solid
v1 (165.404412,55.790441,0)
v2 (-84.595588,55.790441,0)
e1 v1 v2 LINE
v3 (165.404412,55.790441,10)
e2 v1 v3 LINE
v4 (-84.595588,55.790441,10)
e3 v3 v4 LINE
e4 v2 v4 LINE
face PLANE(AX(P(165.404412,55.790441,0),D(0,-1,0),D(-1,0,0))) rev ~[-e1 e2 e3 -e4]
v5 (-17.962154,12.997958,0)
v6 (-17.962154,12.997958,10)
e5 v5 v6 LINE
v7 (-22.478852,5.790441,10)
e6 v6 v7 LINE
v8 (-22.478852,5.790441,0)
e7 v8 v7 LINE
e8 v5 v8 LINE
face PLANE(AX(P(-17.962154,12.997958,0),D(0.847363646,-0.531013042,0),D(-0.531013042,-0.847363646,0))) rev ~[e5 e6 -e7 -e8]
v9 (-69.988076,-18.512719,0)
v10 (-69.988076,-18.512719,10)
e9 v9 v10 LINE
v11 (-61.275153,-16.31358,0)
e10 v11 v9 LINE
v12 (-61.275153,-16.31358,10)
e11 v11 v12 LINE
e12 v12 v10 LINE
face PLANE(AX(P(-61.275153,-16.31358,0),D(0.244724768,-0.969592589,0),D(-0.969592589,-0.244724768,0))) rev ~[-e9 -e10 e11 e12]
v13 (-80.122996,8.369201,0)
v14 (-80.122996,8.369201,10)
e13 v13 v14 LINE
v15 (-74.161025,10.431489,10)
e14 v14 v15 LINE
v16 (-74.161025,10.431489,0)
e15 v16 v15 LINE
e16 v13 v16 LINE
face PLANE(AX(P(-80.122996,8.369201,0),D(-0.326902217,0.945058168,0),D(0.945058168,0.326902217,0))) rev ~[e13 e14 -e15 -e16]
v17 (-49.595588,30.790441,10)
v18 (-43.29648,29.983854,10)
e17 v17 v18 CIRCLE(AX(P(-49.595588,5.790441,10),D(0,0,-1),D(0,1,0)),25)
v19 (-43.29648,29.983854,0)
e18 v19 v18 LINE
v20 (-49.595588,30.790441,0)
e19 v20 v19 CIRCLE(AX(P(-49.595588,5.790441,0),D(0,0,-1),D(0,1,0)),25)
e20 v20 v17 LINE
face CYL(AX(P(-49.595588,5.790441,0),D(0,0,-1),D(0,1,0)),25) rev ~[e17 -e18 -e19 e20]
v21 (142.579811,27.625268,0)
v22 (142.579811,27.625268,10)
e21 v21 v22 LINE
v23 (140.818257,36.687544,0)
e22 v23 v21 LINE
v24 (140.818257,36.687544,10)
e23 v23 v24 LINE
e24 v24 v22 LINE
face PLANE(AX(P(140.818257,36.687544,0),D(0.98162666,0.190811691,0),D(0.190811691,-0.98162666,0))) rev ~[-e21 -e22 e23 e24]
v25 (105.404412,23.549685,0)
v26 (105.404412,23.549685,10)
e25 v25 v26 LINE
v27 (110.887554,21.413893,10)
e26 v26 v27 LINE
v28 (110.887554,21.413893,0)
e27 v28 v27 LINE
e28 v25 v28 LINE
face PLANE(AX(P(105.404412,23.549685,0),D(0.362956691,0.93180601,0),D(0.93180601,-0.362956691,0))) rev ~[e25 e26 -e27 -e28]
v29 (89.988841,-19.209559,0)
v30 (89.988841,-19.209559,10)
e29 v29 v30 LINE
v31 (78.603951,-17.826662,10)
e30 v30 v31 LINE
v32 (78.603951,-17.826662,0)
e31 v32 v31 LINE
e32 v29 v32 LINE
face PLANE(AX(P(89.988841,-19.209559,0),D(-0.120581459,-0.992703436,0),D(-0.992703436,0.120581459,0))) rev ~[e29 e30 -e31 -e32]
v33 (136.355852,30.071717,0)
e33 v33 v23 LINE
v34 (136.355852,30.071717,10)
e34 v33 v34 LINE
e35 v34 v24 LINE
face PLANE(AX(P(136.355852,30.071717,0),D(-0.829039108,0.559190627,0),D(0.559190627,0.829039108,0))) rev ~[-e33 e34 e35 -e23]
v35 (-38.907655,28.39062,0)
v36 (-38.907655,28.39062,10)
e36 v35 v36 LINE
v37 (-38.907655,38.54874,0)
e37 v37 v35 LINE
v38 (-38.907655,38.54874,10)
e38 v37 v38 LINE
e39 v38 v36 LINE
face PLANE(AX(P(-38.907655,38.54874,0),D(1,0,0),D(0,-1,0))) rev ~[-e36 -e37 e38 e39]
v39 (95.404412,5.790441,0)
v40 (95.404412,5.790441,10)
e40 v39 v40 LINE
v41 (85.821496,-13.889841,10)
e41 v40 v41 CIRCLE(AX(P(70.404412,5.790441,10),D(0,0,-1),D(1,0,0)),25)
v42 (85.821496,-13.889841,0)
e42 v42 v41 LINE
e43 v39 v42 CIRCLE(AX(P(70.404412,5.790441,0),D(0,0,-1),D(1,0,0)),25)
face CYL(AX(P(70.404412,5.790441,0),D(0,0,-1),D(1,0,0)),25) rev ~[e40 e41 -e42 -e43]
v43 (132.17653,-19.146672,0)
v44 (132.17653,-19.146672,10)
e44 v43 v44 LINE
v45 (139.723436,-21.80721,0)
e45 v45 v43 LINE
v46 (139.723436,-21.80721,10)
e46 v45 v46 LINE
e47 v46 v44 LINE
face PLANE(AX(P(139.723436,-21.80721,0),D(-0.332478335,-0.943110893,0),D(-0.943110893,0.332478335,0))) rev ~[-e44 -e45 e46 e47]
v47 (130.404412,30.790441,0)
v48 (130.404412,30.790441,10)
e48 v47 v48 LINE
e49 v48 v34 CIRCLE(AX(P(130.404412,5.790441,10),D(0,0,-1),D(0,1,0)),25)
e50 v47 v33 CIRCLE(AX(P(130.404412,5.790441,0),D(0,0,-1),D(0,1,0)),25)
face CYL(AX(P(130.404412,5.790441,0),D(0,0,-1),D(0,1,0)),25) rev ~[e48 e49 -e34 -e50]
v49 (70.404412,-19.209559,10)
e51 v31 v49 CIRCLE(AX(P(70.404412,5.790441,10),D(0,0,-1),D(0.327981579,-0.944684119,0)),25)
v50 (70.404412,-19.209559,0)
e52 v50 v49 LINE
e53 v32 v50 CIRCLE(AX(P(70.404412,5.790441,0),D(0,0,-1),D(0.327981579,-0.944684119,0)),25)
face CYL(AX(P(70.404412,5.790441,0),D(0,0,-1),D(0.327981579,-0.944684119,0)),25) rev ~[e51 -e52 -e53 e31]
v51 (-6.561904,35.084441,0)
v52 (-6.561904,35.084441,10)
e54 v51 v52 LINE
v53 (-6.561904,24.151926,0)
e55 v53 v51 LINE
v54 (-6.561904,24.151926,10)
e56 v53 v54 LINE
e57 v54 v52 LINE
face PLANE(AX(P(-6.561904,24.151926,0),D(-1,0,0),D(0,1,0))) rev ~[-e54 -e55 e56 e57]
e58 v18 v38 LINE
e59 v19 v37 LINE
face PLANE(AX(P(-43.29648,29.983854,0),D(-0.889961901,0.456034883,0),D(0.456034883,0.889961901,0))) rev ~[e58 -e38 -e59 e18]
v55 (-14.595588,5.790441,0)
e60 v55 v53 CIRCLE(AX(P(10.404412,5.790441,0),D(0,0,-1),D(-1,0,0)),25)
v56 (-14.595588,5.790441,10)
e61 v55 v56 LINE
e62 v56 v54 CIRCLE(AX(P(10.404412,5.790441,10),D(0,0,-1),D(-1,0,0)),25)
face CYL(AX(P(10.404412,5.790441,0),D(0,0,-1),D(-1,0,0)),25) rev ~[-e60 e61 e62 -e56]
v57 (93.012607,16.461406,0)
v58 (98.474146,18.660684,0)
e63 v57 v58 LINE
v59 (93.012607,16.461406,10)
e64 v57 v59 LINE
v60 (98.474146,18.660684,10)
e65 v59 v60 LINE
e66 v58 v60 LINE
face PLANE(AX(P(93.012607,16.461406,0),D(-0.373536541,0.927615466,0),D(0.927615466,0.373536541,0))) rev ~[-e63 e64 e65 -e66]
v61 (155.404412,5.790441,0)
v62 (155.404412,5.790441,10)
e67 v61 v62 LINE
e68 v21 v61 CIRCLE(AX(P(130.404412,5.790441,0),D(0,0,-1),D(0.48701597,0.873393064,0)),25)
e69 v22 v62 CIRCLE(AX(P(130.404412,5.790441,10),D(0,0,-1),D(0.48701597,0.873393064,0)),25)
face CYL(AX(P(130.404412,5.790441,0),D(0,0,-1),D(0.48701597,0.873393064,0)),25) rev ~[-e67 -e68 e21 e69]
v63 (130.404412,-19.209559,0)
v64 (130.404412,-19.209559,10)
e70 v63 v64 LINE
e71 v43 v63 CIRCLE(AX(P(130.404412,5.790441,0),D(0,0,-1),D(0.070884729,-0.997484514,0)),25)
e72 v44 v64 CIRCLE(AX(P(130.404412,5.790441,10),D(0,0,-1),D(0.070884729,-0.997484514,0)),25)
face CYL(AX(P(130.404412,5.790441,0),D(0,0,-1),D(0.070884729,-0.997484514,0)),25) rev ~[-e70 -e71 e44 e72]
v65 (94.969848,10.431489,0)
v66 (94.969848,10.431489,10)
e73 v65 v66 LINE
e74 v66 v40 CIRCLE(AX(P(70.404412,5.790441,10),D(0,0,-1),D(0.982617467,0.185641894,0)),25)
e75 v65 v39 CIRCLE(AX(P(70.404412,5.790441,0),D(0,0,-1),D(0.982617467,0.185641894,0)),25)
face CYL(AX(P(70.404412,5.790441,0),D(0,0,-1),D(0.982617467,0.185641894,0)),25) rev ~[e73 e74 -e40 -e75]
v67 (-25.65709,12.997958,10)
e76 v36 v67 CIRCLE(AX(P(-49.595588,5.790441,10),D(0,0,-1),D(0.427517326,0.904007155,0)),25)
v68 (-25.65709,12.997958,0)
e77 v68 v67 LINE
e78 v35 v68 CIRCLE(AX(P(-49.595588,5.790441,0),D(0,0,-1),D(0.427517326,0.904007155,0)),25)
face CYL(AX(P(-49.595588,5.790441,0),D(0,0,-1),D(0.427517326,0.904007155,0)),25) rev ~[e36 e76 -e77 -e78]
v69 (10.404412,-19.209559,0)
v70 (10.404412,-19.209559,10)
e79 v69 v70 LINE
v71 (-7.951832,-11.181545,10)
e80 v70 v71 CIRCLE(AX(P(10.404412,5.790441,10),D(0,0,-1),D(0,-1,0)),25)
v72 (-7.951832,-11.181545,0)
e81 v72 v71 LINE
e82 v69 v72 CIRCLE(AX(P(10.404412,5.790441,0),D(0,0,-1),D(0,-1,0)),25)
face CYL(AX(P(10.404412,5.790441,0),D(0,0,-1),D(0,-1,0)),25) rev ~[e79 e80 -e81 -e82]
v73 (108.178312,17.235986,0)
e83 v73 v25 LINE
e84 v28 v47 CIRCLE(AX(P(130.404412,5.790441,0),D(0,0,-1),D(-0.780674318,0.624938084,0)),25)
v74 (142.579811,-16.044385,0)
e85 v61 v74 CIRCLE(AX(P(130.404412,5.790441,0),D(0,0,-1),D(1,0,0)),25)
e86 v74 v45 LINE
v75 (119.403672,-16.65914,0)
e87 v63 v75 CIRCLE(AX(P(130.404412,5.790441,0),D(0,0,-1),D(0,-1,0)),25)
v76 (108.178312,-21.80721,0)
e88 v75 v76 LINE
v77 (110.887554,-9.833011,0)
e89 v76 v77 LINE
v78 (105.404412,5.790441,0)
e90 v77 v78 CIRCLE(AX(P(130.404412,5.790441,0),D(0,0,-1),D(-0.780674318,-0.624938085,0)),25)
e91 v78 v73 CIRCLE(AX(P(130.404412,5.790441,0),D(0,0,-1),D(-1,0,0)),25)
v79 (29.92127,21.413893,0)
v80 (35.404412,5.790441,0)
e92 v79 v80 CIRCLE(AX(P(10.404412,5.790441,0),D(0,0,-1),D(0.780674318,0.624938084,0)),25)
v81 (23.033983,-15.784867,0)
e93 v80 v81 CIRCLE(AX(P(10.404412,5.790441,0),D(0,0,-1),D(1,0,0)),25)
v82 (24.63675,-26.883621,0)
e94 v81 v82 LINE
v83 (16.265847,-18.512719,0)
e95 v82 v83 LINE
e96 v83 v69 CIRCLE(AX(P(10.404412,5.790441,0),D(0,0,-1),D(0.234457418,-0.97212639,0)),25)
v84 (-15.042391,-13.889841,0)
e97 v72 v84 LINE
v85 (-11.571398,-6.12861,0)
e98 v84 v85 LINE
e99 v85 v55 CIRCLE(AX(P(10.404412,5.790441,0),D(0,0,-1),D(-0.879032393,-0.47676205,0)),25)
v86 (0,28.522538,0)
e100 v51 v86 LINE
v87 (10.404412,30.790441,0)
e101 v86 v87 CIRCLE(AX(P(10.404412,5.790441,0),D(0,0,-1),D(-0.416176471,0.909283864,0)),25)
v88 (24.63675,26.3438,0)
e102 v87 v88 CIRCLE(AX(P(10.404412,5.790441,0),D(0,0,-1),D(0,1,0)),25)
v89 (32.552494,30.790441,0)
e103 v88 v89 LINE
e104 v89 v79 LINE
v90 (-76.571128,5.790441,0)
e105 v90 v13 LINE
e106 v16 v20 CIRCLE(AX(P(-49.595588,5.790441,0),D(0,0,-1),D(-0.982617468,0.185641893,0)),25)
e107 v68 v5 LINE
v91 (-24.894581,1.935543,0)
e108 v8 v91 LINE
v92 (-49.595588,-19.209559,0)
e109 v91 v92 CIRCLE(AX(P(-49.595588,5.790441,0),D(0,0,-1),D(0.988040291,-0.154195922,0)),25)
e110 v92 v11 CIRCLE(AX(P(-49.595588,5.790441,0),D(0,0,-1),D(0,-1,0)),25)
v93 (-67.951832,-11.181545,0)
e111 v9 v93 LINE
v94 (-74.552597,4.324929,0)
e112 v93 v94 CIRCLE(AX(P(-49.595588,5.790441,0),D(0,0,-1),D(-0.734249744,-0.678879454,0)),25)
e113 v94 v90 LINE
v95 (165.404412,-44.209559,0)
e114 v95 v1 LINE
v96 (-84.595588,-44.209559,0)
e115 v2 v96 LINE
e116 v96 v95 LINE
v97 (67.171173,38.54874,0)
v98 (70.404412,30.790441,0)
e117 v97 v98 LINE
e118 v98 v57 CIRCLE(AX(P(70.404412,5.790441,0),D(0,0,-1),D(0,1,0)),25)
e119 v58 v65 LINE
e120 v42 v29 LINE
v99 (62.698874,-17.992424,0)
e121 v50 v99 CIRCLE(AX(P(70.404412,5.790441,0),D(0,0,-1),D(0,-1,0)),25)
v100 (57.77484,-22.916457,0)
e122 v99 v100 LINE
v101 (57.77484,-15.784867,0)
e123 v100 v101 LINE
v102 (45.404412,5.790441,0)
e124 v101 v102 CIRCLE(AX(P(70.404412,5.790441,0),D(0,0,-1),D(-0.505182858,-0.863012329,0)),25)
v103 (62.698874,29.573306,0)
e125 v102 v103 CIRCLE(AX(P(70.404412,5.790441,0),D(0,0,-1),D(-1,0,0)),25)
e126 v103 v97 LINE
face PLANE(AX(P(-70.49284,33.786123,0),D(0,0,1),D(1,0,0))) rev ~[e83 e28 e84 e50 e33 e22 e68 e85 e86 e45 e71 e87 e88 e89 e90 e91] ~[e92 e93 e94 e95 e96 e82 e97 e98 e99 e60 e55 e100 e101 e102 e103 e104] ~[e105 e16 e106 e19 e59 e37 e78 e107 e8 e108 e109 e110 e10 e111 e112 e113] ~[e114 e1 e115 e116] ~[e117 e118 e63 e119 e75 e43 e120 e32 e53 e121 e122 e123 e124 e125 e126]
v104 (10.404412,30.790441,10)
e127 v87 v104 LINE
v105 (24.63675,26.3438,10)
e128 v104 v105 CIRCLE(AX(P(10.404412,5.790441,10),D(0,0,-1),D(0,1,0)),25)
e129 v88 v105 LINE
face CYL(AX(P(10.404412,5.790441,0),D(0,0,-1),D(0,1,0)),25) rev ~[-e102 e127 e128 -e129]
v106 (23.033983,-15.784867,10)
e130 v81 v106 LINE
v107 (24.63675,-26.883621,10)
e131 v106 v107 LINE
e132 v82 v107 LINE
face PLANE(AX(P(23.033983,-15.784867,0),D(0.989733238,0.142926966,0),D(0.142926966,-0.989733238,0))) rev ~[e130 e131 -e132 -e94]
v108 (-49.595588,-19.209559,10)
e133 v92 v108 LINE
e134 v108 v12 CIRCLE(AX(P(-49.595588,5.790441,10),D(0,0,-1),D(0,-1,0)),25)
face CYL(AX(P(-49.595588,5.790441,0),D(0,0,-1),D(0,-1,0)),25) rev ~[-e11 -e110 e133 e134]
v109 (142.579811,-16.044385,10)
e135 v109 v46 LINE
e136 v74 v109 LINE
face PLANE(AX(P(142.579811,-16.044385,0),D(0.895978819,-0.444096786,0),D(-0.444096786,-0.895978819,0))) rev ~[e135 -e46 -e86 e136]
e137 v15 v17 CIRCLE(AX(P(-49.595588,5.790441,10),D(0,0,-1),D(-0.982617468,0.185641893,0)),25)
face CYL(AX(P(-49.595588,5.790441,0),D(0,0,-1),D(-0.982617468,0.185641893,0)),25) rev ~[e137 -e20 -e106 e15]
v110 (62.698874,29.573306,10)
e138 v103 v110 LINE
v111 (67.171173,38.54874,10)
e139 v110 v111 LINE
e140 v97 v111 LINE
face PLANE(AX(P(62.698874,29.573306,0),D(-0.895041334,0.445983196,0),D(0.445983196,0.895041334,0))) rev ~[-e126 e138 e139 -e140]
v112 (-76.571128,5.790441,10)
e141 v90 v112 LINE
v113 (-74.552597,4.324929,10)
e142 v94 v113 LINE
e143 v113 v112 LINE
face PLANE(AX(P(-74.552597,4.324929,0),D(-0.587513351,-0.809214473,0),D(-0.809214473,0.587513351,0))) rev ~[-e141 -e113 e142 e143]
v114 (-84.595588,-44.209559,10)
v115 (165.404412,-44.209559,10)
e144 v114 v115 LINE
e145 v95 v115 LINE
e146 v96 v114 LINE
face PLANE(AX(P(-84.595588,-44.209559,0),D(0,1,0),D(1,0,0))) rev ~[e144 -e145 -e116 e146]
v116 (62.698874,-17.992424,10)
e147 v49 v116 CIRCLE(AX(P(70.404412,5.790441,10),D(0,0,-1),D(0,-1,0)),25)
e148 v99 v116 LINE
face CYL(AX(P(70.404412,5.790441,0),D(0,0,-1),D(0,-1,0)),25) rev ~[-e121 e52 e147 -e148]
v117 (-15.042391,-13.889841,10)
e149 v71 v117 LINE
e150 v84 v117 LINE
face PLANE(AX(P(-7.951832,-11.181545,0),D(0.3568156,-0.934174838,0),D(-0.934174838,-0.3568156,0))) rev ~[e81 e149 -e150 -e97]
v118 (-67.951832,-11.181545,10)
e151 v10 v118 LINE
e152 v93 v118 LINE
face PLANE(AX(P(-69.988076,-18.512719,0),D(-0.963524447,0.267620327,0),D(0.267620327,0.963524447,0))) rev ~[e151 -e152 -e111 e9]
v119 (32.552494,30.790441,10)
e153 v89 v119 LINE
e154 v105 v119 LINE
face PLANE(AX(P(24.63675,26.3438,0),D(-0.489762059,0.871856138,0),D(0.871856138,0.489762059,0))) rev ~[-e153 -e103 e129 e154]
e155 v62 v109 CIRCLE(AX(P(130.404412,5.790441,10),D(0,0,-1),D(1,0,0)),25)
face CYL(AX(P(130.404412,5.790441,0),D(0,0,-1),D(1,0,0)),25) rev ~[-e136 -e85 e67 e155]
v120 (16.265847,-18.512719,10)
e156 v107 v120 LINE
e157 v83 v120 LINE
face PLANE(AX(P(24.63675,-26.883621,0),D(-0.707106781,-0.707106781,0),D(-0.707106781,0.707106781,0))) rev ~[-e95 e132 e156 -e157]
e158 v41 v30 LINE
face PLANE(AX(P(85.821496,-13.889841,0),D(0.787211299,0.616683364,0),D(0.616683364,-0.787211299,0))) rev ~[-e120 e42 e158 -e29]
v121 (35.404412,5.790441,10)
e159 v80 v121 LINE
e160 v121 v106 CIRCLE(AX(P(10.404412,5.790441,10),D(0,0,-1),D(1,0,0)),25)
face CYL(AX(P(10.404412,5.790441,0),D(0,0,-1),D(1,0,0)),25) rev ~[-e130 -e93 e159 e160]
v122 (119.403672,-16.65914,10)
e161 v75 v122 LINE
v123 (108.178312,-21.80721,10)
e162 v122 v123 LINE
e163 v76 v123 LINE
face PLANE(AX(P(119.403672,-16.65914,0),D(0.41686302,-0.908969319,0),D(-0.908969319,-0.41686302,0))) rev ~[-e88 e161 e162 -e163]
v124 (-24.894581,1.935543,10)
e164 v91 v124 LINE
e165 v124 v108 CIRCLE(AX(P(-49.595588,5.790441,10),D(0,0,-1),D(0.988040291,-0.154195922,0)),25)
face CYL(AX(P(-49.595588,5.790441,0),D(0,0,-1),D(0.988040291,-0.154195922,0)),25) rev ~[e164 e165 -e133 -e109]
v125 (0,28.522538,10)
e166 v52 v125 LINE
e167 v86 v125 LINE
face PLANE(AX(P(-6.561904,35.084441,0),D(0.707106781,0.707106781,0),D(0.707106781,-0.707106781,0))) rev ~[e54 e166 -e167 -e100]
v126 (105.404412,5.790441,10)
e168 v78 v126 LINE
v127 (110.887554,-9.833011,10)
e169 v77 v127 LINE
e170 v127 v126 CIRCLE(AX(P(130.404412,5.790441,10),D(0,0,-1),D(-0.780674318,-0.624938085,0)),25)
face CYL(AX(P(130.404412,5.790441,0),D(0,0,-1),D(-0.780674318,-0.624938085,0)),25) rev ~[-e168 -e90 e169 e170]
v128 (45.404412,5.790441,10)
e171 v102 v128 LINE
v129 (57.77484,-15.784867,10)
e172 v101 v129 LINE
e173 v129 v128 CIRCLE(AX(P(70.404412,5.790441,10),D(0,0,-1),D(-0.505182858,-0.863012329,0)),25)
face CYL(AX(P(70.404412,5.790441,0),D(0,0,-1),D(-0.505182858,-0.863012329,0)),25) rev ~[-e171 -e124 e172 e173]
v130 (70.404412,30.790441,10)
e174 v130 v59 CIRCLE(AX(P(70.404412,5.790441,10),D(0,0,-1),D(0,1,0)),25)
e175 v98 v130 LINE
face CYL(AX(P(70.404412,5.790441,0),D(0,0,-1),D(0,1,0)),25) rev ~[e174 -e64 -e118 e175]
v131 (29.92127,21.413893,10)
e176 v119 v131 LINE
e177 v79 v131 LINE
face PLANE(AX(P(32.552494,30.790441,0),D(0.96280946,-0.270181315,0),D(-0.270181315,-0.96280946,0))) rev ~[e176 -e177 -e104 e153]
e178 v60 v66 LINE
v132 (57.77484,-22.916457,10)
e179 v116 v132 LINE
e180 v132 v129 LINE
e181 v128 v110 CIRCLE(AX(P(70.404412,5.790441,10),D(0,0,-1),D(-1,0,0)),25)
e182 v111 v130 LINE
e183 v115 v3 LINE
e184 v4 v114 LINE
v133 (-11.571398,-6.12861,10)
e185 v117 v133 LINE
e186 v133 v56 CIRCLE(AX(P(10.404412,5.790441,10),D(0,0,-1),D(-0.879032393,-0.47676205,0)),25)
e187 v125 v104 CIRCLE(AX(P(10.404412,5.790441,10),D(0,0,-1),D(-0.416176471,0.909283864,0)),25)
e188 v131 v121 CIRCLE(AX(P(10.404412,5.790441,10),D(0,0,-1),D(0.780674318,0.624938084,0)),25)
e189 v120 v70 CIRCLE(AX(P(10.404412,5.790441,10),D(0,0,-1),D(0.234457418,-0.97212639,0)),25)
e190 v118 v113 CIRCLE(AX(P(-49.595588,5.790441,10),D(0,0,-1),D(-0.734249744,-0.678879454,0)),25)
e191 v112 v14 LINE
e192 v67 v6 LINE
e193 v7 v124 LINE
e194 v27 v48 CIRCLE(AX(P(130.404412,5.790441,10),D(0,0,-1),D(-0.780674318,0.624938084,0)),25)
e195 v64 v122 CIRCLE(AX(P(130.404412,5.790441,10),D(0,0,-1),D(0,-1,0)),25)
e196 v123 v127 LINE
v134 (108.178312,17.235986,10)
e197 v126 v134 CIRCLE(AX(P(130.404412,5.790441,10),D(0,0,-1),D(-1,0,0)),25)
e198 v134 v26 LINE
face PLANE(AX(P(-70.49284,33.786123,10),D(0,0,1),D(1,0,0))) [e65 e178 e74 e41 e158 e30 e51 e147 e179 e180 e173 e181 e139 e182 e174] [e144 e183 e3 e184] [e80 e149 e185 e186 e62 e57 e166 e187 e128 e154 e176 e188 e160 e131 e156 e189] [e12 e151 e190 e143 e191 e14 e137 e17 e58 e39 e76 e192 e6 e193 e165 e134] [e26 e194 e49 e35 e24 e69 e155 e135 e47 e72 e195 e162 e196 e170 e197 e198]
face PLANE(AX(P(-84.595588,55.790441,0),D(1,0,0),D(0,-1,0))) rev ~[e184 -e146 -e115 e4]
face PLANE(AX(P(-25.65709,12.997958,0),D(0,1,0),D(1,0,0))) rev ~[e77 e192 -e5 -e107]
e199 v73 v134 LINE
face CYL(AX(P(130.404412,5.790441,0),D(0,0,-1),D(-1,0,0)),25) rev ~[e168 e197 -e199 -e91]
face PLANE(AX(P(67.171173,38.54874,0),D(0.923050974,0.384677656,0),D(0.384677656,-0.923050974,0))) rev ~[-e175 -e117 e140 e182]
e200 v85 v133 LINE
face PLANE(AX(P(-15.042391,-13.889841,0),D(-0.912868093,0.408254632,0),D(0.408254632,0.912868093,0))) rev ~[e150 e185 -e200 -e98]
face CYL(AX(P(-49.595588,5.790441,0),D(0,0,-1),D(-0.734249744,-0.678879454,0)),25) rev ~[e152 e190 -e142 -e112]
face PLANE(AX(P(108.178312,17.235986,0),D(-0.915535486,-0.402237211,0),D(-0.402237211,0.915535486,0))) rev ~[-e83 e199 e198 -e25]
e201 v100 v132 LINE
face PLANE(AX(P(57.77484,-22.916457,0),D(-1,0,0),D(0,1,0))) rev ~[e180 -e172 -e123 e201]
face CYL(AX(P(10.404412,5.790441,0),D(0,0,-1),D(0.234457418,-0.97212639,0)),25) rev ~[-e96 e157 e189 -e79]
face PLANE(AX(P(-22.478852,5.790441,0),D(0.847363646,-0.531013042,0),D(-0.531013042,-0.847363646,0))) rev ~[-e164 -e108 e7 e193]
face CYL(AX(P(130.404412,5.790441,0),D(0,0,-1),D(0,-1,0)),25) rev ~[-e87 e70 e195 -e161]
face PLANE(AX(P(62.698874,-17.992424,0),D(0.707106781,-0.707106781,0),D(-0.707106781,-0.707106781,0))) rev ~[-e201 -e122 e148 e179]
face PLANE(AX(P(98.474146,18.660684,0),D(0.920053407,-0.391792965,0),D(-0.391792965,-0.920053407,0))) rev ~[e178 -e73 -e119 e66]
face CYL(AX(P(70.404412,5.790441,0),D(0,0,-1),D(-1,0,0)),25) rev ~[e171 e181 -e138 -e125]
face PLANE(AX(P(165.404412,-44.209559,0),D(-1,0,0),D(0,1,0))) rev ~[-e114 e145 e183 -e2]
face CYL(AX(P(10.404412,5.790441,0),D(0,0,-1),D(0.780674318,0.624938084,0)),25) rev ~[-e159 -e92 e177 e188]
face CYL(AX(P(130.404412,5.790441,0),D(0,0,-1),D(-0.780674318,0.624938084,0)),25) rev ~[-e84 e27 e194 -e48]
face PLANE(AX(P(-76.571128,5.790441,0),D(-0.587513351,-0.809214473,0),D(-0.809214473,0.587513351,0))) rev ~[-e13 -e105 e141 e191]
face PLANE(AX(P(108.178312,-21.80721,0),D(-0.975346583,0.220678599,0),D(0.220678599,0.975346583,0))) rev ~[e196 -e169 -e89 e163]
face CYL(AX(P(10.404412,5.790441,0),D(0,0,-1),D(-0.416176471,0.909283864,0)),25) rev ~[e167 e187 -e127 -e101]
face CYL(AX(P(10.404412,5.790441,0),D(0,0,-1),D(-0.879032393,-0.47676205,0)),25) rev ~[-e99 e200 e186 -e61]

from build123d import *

# Parameters (mm, degrees)
BOSS_EXTRUDE2_DEPTH = 10


with BuildPart() as part:
    # Sketch1 → Boss-Extrude2 (new body)
    with BuildSketch(Plane.XY):
        with BuildLine():
            Line((-49.595588235, 30.790441176), (-49.595588235, 55.790441176))
            Line((-49.595588235, 55.790441176), (-84.595588235, 55.790441176))
            Line((-84.595588235, 55.790441176), (-84.595588235, 5.790441176))
            Line((-84.595588235, 5.790441176), (-76.571127836, 5.790441176))
            Line((-76.571127836, 5.790441176), (-80.122995865, 8.369201143))
            Line((-80.122995865, 8.369201143), (-74.161024923, 10.431488509))
            ThreePointArc((-74.161024923, 10.431488509), (-65.548234046, 25.0391578), (-49.595588235, 30.790441176))
        make_face()
        with BuildLine():
            Line((10.404411765, 55.790441176), (-49.595588235, 55.790441176))
            Line((-49.595588235, 55.790441176), (-49.595588235, 30.790441176))
            ThreePointArc((-49.595588235, 30.790441176), (-46.420318597, 30.587974576), (-43.296479842, 29.983854194))
            Line((-43.296479842, 29.983854194), (-38.907655076, 38.5487403))
            Line((-38.907655076, 38.5487403), (-38.907655076, 28.390620042))
            ThreePointArc((-38.907655076, 28.390620042), (-30.648795615, 22.100531594), (-25.657089919, 12.997957973))
            Line((-25.657089919, 12.997957973), (-17.962154019, 12.997957973))
            Line((-17.962154019, 12.997957973), (-22.478851702, 5.790441176))
            Line((-22.478851702, 5.790441176), (-14.595588235, 5.790441176))
            ThreePointArc((-14.595588235, 5.790441176), (-12.499276658, 15.811471895), (-6.561903703, 24.151926396))
            Line((-6.561903703, 24.151926396), (-6.561903703, 35.084441479))
            Line((-6.561903703, 35.084441479), (0, 28.522537776))
            ThreePointArc((0, 28.522537776), (5.080053353, 30.216886016), (10.404411765, 30.790441176))
            Line((10.404411765, 30.790441176), (10.404411765, 55.790441176))
        make_face()
        with BuildLine():
            Line((70.404411765, 55.790441176), (10.404411765, 55.790441176))
            Line((10.404411765, 55.790441176), (10.404411765, 30.790441176))
            ThreePointArc((10.404411765, 30.790441176), (17.859813508, 29.652900917), (24.63674968, 26.343799964))
            Line((24.63674968, 26.343799964), (32.552494412, 30.790441176))
            Line((32.552494412, 30.790441176), (29.92126971, 21.41389329))
            ThreePointArc((29.92126971, 21.41389329), (33.993831518, 14.069286246), (35.404411765, 5.790441176))
            Line((35.404411765, 5.790441176), (45.404411765, 5.790441176))
            ThreePointArc((45.404411765, 5.790441176), (50.185133178, 20.493528384), (62.698873639, 29.573306483))
            Line((62.698873639, 29.573306483), (67.171172857, 38.5487403))
            Line((67.171172857, 38.5487403), (70.404411765, 30.790441176))
            Line((70.404411765, 30.790441176), (70.404411765, 55.790441176))
        make_face()
        with BuildLine():
            Line((130.404411765, 55.790441176), (70.404411765, 55.790441176))
            Line((70.404411765, 55.790441176), (70.404411765, 30.790441176))
            ThreePointArc((70.404411765, 30.790441176), (83.787720088, 26.906479118), (93.012607471, 16.461405843))
            Line((93.012607471, 16.461405843), (98.474145882, 18.660683713))
            Line((98.474145882, 18.660683713), (94.969848452, 10.431488509))
            ThreePointArc((94.969848452, 10.431488509), (95.295533849, 8.1211152), (95.404411765, 5.790441176))
            Line((95.404411765, 5.790441176), (105.404411765, 5.790441176))
            ThreePointArc((105.404411765, 5.790441176), (106.107781477, 11.678883811), (108.178312298, 17.23598627))
            Line((108.178312298, 17.23598627), (105.404411765, 23.549684511))
            Line((105.404411765, 23.549684511), (110.88755382, 21.41389329))
            ThreePointArc((110.88755382, 21.41389329), (119.578200582, 28.324707338), (130.404411765, 30.790441176))
            Line((130.404411765, 30.790441176), (130.404411765, 55.790441176))
        make_face()
        with BuildLine():
            Line((165.404411765, 55.790441176), (130.404411765, 55.790441176))
            Line((130.404411765, 55.790441176), (130.404411765, 30.790441176))
            ThreePointArc((130.404411765, 30.790441176), (133.401752606, 30.610109746), (136.355852267, 30.071717007))
            Line((136.355852267, 30.071717007), (140.818257218, 36.687543597))
            Line((140.818257218, 36.687543597), (142.579811014, 27.625267787))
            ThreePointArc((142.579811014, 27.625267787), (151.961139035, 18.451701358), (155.404411765, 5.790441176))
            Line((155.404411765, 5.790441176), (165.404411765, 5.790441176))
            Line((165.404411765, 5.790441176), (165.404411765, 55.790441176))
        make_face()
        with BuildLine():
            Line((165.404411765, -44.209558824), (165.404411765, 5.790441176))
            Line((165.404411765, 5.790441176), (155.404411765, 5.790441176))
            ThreePointArc((155.404411765, 5.790441176), (151.961139035, -6.870819005), (142.579811014, -16.044385434))
            Line((142.579811014, -16.044385434), (139.723435627, -21.807209952))
            Line((139.723435627, -21.807209952), (132.176529952, -19.14667167))
            ThreePointArc((132.176529952, -19.14667167), (131.291028602, -19.193832089), (130.404411765, -19.209558824))
            Line((130.404411765, -19.209558824), (130.404411765, -44.209558824))
            Line((130.404411765, -44.209558824), (165.404411765, -44.209558824))
        make_face()
        with BuildLine():
            ThreePointArc((78.603951233, -17.826661789), (74.562080934, -18.861410419), (70.404411765, -19.209558824))
            Line((70.404411765, -19.209558824), (70.404411765, -44.209558824))
            Line((70.404411765, -44.209558824), (130.404411765, -44.209558824))
            Line((130.404411765, -44.209558824), (130.404411765, -19.209558824))
            ThreePointArc((130.404411765, -19.209558824), (124.758153779, -18.563609221), (119.403671642, -16.659140484))
            Line((119.403671642, -16.659140484), (108.178312298, -21.807209952))
            Line((108.178312298, -21.807209952), (110.88755382, -9.833010937))
            ThreePointArc((110.88755382, -9.833010937), (106.814992011, -2.488403893), (105.404411765, 5.790441176))
            Line((105.404411765, 5.790441176), (95.404411765, 5.790441176))
            ThreePointArc((95.404411765, 5.790441176), (92.88136777, -5.154258396), (85.821495865, -13.889841287))
            Line((85.821495865, -13.889841287), (89.988841167, -19.209558824))
            Line((89.988841167, -19.209558824), (78.603951233, -17.826661789))
        make_face()
        with BuildLine():
            ThreePointArc((16.26584722, -18.512718585), (13.35576789, -19.034737514), (10.404411765, -19.209558824))
            Line((10.404411765, -19.209558824), (10.404411765, -44.209558824))
            Line((10.404411765, -44.209558824), (70.404411765, -44.209558824))
            Line((70.404411765, -44.209558824), (70.404411765, -19.209558824))
            ThreePointArc((70.404411765, -19.209558824), (66.503875434, -18.903400492), (62.698873639, -17.99242413))
            Line((62.698873639, -17.99242413), (57.774840306, -22.916457463))
            Line((57.774840306, -22.916457463), (57.774840306, -15.784867043))
            ThreePointArc((57.774840306, -15.784867043), (48.716404866, -6.644604331), (45.404411765, 5.790441176))
            Line((45.404411765, 5.790441176), (35.404411765, 5.790441176))
            ThreePointArc((35.404411765, 5.790441176), (32.092418663, -6.644604331), (23.033983223, -15.784867043))
            Line((23.033983223, -15.784867043), (24.63674968, -26.883621045))
            Line((24.63674968, -26.883621045), (16.26584722, -18.512718585))
        make_face()
        with BuildLine():
            ThreePointArc((-24.894580949, 1.935543121), (-33.337858557, -13.20129981), (-49.595588235, -19.209558824))
            Line((-49.595588235, -19.209558824), (-49.595588235, -44.209558824))
            Line((-49.595588235, -44.209558824), (10.404411765, -44.209558824))
            Line((10.404411765, -44.209558824), (10.404411765, -19.209558824))
            ThreePointArc((10.404411765, -19.209558824), (0.386918535, -17.114794674), (-7.951831841, -11.181545175))
            Line((-7.951831841, -11.181545175), (-15.042390882, -13.889841287))
            Line((-15.042390882, -13.889841287), (-11.571398063, -6.128610062))
            ThreePointArc((-11.571398063, -6.128610062), (-13.827749155, -0.357922603), (-14.595588235, 5.790441176))
            Line((-14.595588235, 5.790441176), (-22.478851702, 5.790441176))
            Line((-22.478851702, 5.790441176), (-24.894580949, 1.935543121))
        make_face()
        with BuildLine():
            Line((-76.571127836, 5.790441176), (-84.595588235, 5.790441176))
            Line((-84.595588235, 5.790441176), (-84.595588235, -44.209558824))
            Line((-84.595588235, -44.209558824), (-49.595588235, -44.209558824))
            Line((-49.595588235, -44.209558824), (-49.595588235, -19.209558824))
            ThreePointArc((-49.595588235, -19.209558824), (-55.612209406, -18.474765802), (-61.275152877, -16.313580398))
            Line((-61.275152877, -16.313580398), (-69.988075999, -18.512718585))
            Line((-69.988075999, -18.512718585), (-67.951831841, -11.181545175))
            ThreePointArc((-67.951831841, -11.181545175), (-72.598243173, -4.001283177), (-74.552596729, 4.324928615))
            Line((-74.552596729, 4.324928615), (-76.571127836, 5.790441176))
        make_face()
    extrude(amount=BOSS_EXTRUDE2_DEPTH)


solid = part.part
